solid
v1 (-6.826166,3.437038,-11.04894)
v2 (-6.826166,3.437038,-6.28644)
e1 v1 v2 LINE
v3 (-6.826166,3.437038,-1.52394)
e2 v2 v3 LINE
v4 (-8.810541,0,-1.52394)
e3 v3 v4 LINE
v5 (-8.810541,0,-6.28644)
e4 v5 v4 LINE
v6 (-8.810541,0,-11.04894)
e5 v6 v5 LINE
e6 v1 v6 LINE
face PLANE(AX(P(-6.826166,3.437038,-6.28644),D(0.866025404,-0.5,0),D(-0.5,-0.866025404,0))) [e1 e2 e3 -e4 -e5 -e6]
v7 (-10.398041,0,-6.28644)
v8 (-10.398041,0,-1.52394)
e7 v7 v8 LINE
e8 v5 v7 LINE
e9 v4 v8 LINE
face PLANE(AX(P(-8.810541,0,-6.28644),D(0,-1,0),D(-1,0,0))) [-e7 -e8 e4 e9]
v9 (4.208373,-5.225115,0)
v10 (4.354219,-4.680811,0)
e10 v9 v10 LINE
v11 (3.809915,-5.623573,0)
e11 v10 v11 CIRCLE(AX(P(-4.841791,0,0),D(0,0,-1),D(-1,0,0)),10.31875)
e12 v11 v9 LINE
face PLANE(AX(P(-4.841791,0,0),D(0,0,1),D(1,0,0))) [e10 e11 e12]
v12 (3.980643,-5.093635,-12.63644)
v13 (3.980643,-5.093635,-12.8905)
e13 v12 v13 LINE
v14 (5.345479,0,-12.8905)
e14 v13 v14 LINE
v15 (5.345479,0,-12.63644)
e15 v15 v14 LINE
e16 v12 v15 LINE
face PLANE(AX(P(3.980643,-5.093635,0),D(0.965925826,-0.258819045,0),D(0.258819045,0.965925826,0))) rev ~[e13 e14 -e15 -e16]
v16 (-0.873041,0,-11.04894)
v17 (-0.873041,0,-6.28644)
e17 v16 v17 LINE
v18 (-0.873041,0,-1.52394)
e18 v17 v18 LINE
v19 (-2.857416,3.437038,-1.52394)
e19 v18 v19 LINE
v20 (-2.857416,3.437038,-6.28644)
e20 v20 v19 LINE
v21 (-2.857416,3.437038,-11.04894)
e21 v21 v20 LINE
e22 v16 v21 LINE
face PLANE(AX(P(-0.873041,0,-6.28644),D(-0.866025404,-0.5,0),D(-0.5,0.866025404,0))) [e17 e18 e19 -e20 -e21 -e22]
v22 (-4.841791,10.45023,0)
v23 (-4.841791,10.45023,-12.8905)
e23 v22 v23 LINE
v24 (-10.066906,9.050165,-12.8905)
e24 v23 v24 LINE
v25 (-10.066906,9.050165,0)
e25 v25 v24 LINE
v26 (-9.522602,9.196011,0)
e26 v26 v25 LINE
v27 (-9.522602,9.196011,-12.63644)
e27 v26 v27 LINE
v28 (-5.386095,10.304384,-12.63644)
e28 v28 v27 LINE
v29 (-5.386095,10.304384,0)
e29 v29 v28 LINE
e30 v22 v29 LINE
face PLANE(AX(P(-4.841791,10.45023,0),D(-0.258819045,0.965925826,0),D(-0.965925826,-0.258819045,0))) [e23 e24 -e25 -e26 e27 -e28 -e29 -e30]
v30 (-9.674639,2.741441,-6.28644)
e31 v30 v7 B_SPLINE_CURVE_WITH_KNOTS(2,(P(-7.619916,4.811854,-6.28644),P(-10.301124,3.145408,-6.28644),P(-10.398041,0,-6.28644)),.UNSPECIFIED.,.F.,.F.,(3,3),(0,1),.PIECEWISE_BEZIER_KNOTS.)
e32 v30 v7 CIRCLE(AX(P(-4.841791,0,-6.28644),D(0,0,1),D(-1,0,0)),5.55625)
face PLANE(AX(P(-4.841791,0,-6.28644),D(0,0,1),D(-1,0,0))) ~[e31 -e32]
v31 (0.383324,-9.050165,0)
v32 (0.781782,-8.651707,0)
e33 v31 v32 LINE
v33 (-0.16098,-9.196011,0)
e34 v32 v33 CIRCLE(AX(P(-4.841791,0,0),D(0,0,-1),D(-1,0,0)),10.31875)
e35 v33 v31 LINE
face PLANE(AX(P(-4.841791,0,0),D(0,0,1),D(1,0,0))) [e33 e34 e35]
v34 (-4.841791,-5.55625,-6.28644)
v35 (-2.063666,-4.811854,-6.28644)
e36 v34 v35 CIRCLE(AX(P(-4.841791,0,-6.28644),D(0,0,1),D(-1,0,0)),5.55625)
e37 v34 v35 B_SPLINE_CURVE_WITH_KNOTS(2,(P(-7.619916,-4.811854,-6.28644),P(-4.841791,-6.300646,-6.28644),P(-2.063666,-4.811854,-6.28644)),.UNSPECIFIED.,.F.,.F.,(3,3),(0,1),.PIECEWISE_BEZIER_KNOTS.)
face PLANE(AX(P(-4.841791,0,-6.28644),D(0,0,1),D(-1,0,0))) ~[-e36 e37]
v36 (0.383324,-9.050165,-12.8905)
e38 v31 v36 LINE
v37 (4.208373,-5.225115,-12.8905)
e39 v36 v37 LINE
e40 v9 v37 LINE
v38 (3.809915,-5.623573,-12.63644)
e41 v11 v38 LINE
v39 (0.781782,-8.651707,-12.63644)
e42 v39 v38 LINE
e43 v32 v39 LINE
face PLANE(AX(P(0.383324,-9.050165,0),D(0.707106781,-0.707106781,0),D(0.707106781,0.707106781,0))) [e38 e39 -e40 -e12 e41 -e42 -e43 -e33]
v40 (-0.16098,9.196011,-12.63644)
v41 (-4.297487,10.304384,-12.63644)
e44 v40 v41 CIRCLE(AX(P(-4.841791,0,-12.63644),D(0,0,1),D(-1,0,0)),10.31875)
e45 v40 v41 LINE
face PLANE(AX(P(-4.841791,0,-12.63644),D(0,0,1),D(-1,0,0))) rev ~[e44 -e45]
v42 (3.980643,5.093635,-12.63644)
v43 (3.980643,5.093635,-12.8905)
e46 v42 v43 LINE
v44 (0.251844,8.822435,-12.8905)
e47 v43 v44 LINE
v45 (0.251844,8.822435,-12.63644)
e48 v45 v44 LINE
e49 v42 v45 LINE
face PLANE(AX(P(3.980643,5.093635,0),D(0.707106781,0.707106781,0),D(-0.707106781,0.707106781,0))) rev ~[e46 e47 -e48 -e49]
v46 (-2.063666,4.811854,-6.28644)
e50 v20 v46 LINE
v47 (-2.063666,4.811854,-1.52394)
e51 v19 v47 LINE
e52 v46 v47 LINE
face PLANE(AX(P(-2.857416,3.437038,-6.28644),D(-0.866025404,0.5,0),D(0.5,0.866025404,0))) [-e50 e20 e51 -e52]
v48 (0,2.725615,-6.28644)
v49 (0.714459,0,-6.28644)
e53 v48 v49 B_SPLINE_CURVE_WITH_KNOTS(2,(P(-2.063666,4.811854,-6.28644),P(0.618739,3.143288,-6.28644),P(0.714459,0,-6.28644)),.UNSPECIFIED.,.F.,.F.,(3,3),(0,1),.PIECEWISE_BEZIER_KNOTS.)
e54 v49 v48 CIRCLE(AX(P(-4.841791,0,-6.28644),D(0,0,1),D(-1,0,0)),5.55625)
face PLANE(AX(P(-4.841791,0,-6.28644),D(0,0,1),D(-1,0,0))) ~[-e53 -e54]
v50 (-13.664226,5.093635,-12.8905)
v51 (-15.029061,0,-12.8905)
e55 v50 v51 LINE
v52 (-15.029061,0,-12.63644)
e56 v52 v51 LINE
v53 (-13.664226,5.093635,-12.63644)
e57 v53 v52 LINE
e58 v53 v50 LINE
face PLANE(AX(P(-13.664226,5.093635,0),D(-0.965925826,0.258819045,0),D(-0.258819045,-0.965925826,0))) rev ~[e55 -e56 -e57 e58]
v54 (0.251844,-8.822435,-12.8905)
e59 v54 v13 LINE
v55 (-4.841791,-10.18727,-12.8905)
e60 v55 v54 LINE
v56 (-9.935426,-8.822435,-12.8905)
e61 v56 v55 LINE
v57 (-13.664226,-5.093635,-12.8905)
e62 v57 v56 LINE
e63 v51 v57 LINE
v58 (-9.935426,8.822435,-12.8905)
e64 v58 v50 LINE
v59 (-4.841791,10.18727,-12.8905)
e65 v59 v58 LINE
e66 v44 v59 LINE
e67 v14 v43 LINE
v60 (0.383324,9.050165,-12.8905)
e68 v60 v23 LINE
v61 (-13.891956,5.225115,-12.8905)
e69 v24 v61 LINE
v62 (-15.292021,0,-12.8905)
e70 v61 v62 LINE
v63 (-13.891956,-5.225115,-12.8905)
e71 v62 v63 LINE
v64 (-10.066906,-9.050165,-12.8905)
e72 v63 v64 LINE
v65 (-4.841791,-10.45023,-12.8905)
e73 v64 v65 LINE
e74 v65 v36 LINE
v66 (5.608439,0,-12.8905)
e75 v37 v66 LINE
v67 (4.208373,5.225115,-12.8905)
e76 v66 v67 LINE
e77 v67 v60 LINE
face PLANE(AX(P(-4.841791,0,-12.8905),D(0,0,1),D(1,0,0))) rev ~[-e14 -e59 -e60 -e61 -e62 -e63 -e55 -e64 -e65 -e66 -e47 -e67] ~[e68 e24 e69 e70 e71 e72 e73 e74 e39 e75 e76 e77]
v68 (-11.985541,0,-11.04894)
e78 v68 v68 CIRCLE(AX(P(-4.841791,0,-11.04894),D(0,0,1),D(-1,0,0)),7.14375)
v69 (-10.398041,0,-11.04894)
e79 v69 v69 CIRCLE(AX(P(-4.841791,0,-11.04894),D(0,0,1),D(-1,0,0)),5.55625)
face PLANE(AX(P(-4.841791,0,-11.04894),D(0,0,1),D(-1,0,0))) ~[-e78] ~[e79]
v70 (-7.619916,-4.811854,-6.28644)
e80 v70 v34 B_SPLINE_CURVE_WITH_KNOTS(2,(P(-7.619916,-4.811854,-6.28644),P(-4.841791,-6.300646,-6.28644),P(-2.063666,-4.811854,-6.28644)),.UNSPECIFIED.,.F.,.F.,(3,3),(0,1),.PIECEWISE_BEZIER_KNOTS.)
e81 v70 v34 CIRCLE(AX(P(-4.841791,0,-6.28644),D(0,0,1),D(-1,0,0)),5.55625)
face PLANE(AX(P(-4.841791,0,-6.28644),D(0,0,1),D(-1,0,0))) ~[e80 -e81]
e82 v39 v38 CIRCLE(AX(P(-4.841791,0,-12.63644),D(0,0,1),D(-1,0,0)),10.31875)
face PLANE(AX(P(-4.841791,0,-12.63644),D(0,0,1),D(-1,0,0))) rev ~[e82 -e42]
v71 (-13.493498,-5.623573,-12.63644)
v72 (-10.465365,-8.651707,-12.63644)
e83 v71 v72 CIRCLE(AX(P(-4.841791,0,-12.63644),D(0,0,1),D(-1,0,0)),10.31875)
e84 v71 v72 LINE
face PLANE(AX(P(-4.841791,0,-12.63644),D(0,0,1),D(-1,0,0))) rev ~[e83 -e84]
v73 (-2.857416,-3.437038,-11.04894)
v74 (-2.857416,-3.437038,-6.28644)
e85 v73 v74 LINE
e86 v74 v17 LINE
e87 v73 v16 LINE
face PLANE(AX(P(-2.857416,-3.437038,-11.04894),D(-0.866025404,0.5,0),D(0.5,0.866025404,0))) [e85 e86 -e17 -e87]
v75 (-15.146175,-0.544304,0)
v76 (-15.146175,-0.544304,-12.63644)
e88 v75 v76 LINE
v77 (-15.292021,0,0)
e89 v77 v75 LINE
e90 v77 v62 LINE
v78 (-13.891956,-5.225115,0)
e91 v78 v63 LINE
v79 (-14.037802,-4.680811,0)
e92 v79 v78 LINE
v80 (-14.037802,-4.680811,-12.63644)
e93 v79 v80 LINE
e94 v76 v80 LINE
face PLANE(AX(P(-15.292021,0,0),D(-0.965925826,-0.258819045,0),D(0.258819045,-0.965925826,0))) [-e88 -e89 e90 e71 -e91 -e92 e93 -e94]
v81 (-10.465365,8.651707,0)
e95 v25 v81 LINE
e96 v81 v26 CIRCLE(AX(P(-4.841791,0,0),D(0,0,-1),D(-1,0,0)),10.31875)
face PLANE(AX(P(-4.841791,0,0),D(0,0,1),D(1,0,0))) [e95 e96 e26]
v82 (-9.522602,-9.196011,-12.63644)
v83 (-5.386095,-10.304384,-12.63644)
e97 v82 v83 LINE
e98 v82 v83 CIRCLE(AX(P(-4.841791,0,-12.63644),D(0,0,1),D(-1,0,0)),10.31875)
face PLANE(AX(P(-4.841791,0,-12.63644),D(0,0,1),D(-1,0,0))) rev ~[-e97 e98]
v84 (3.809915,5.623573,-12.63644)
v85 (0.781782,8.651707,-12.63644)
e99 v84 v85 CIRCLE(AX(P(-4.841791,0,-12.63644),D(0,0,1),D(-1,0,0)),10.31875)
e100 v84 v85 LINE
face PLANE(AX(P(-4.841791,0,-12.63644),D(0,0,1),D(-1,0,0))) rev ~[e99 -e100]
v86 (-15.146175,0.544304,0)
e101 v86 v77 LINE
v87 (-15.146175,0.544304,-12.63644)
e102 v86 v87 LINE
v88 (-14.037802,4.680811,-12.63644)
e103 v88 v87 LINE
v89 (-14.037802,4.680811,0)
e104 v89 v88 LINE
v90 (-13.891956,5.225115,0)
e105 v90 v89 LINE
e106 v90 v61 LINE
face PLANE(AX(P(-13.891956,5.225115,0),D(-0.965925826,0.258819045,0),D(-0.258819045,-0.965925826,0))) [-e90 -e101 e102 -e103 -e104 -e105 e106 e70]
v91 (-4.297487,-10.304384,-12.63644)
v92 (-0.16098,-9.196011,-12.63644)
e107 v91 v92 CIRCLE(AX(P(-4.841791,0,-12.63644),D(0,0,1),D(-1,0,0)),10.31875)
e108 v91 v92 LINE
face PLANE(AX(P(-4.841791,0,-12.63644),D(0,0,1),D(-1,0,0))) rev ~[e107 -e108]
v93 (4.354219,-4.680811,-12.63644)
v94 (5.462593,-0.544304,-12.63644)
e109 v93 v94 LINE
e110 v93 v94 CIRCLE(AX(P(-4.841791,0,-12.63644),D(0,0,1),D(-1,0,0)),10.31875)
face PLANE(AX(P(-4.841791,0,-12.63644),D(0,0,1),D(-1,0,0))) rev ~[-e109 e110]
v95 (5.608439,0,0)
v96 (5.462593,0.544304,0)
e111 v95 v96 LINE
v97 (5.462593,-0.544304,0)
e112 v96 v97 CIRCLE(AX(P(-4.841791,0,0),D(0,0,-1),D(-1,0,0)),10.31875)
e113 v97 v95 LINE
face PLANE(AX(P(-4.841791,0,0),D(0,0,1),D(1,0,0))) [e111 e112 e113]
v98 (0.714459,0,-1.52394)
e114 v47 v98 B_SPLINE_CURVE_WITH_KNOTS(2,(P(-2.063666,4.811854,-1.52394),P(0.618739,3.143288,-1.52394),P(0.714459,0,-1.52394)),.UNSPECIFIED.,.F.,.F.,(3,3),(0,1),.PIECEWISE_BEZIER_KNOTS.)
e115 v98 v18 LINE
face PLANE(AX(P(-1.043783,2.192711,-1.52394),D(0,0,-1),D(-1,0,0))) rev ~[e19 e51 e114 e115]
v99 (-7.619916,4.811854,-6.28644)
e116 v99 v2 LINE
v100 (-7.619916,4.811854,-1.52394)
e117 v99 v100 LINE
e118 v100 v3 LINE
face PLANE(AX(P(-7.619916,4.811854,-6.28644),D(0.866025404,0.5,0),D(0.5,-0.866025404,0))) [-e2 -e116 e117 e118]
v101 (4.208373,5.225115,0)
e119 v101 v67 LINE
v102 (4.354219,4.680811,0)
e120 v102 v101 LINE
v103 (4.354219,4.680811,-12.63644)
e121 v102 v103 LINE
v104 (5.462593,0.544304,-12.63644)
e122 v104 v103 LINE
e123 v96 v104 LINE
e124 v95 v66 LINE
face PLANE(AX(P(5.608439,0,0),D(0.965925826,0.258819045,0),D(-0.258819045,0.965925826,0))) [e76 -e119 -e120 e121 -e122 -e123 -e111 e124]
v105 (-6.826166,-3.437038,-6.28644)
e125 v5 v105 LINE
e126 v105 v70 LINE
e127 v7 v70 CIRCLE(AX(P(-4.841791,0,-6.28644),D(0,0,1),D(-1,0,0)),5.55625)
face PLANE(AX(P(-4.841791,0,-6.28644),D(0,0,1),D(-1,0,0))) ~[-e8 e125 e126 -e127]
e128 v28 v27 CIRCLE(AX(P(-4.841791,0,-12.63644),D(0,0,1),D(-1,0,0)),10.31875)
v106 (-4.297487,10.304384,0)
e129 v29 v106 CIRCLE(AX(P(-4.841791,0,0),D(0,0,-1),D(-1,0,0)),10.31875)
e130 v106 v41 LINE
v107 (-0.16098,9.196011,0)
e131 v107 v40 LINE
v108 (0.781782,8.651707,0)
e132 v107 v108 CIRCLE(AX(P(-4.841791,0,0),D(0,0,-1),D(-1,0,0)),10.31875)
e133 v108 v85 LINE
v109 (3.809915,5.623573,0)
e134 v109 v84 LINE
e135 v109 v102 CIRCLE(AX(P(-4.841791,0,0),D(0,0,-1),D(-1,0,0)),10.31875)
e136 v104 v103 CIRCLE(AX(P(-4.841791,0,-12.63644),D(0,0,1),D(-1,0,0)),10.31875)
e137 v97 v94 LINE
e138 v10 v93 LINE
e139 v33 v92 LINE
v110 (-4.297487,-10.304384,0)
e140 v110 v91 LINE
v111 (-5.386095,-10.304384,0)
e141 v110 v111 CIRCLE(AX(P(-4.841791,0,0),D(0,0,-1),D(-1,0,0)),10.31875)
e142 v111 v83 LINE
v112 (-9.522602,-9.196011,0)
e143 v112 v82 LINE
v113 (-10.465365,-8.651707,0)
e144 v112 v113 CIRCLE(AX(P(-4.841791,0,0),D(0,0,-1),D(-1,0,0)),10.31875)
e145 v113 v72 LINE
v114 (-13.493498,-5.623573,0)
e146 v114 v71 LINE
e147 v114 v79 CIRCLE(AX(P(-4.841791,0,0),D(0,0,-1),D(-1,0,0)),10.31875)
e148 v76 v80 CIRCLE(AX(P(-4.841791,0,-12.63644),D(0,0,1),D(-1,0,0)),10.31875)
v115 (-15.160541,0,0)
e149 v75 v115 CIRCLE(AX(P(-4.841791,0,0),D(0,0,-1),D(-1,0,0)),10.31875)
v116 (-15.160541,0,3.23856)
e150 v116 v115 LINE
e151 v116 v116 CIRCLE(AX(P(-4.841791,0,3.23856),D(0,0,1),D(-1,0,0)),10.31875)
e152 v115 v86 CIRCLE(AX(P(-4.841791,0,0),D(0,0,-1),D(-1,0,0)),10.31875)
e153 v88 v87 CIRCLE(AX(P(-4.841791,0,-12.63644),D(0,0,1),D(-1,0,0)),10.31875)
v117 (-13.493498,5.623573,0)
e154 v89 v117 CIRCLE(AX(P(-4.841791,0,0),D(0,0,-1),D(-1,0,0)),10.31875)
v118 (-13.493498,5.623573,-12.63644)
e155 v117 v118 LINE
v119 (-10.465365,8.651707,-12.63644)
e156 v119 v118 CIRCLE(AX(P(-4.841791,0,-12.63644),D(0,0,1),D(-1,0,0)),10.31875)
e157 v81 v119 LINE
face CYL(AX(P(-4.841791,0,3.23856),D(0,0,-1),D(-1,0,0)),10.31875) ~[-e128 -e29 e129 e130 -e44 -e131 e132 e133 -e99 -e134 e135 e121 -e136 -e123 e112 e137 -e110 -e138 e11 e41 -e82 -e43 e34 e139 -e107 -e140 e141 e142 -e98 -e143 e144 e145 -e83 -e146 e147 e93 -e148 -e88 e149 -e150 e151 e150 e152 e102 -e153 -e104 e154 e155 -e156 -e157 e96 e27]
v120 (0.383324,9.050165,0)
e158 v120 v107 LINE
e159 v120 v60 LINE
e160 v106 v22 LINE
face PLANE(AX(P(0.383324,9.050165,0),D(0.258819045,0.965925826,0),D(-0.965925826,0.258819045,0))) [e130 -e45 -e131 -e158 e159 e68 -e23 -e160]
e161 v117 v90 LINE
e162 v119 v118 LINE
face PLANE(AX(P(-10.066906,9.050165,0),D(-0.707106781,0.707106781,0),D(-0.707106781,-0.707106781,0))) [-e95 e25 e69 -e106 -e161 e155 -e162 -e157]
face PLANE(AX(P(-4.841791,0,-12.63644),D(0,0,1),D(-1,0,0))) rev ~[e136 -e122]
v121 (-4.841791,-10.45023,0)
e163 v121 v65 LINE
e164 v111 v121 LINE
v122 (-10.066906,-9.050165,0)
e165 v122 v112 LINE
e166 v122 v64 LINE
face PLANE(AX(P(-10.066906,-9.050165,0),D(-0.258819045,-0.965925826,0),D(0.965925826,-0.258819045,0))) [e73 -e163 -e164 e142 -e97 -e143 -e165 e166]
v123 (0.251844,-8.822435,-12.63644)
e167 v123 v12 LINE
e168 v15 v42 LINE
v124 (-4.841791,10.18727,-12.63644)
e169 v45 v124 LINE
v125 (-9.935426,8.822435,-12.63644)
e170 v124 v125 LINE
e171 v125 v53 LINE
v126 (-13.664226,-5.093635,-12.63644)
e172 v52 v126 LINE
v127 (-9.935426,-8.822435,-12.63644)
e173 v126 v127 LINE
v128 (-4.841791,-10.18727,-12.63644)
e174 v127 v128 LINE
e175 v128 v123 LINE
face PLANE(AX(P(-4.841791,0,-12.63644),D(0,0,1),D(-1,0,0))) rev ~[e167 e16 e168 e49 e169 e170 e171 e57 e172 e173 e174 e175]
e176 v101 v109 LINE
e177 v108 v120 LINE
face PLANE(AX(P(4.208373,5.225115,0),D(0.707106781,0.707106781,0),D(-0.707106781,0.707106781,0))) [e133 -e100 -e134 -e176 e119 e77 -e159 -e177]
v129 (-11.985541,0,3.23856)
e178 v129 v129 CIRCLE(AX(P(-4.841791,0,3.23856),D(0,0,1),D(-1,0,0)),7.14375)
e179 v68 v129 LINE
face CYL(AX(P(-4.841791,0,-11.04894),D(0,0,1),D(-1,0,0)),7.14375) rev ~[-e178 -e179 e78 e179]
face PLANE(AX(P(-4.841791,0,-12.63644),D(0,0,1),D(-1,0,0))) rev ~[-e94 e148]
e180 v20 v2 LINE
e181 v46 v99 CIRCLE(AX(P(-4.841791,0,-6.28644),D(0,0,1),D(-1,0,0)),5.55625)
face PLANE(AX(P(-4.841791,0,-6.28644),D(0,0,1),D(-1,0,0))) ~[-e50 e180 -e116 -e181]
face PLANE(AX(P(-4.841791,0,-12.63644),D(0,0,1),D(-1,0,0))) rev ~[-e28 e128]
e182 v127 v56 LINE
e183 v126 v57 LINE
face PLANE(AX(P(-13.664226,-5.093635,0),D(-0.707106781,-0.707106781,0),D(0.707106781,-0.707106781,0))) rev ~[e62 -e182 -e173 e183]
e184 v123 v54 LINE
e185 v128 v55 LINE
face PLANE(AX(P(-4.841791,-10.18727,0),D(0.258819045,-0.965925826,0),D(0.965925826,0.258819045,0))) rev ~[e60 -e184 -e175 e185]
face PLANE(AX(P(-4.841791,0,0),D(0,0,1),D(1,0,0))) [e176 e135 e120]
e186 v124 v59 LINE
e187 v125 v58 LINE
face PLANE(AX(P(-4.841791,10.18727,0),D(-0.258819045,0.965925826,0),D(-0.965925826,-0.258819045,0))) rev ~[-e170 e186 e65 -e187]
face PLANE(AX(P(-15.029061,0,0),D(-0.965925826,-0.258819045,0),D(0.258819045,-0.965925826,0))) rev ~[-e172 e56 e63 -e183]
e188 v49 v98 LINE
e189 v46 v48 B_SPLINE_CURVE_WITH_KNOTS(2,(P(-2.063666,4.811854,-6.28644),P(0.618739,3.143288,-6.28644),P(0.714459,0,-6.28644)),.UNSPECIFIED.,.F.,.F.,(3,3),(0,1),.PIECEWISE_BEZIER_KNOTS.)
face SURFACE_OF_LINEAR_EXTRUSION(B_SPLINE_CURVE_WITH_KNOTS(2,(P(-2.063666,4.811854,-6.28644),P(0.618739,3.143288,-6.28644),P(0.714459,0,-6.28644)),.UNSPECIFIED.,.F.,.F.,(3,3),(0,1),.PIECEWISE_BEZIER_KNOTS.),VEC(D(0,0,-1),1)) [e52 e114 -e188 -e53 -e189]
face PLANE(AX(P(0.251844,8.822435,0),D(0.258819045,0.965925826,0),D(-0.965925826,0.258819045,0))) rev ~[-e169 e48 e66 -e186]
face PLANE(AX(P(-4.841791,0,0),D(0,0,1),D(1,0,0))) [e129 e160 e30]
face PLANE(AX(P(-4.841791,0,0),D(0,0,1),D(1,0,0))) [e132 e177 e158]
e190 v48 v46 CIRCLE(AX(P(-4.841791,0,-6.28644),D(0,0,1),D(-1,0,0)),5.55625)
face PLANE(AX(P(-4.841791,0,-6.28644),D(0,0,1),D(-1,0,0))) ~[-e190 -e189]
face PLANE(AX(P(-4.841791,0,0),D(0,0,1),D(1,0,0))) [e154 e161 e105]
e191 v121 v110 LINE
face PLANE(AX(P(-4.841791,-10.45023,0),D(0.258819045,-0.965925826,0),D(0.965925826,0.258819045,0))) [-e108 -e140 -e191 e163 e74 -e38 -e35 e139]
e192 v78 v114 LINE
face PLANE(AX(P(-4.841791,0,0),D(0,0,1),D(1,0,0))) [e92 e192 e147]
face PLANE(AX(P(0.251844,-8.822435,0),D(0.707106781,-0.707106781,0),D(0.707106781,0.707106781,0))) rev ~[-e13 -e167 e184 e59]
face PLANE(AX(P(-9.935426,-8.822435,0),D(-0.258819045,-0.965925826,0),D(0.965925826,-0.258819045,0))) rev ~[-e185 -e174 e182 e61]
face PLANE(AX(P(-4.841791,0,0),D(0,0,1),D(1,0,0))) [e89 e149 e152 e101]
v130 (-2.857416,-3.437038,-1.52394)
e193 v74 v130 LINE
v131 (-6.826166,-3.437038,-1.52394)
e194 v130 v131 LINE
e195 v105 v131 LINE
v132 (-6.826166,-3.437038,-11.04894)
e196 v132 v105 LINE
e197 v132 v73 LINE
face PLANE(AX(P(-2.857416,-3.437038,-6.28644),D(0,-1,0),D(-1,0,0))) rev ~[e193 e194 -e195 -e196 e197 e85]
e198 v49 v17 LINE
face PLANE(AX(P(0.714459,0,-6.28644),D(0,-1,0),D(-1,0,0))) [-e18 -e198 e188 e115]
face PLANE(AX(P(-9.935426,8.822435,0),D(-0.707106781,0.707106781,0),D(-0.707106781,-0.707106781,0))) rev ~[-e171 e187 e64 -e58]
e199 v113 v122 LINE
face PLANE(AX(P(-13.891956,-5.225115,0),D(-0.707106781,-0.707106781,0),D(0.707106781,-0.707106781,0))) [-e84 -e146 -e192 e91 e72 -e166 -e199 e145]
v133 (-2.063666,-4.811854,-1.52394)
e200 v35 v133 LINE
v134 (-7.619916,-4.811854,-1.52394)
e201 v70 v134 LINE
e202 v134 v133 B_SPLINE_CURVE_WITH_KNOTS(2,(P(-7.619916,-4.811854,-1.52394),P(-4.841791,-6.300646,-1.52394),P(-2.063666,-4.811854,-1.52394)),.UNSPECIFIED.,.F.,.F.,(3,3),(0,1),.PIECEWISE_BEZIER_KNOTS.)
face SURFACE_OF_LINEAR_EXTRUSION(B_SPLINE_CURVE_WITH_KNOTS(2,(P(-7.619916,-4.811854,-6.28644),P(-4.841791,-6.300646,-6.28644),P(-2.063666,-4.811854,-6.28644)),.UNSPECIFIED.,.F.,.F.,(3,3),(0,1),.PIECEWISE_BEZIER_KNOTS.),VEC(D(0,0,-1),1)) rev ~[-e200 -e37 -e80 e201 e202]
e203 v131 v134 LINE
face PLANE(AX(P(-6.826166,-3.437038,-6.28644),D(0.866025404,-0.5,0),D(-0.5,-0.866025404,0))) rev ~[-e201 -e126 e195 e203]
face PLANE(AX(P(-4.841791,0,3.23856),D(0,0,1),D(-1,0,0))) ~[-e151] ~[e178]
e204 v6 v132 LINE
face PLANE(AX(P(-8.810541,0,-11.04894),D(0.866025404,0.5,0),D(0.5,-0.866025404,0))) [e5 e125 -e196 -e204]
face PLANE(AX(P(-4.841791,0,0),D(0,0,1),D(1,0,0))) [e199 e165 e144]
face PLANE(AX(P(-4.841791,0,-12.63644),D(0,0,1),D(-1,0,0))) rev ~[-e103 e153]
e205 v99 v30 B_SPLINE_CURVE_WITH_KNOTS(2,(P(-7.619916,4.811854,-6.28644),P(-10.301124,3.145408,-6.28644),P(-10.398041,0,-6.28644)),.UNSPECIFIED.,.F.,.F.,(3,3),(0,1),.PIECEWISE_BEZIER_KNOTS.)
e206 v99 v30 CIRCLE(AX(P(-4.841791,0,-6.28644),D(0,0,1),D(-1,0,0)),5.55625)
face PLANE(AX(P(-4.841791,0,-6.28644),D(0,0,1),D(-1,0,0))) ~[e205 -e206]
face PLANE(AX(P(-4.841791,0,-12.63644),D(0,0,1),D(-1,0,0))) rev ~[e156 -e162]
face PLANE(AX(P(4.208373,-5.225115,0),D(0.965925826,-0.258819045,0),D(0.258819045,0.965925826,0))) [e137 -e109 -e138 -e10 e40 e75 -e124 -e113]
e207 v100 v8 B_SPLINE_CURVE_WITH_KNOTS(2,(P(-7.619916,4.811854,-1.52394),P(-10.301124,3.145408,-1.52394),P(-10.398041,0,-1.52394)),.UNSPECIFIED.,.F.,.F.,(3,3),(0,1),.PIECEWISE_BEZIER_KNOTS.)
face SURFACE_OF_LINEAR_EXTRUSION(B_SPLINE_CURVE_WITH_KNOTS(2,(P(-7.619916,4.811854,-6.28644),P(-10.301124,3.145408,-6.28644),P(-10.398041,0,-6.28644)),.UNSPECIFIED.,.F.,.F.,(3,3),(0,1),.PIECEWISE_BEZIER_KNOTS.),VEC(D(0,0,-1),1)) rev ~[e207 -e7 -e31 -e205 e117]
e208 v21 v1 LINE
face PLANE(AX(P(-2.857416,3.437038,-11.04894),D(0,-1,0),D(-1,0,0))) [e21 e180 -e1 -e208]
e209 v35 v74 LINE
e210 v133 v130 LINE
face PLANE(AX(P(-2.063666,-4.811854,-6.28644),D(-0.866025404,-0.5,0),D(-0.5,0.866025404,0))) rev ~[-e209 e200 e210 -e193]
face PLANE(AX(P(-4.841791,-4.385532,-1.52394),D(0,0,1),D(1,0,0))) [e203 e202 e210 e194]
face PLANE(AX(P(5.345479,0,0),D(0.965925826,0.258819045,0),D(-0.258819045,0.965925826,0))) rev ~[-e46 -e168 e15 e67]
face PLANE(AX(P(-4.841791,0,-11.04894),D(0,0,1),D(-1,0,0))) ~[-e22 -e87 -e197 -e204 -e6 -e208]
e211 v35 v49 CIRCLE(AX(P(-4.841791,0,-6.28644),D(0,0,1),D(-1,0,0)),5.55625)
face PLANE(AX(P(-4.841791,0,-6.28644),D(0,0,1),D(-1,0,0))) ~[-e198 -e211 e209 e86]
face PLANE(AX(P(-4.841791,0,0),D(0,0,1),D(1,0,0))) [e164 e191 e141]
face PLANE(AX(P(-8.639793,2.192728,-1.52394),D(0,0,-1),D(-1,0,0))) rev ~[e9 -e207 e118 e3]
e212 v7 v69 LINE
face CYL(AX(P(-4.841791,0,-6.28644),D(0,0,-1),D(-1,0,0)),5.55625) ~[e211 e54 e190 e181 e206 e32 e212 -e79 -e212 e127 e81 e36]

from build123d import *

# Parameters (mm, degrees)
EXTRUDE_THIN1_DEPTH = 4.7625
BOSS_EXTRUDE3_DEPTH = 4.7625
BOSS_EXTRUDE4_DEPTH = 4.7625
BOSS_EXTRUDE5_DEPTH = 4.7625
EXTRUDE_THIN2_DEPTH = 12.8905


with BuildPart() as part:
    # Sketch1 → Revolve1 (revolve)
    with BuildSketch(Plane(origin=(0, 0, 0), x_dir=(1, 0, 0), z_dir=(0, 1, 0)), mode=Mode.PRIVATE) as revolve1_sk:
        Polygon((3.889458747, 12.636440067), (-4.841791253, 12.636440067), (-4.841791253, 11.048940067), (-0.873041253, 11.048940067), (-0.873041253, 6.286440067), (0.714458747, 6.286440067), (0.714458747, 11.048940067), (2.301958747, 11.048940067), (2.301958747, -3.238559933), (5.476958747, -3.238559933), (5.476958747, 12.636440067), align=None)
    revolve(revolve1_sk.sketch.rotate(Axis((-4.841791253, 0, -12.636440067), (0, 0, 1)), 180), axis=Axis((-4.841791253, 0, -12.636440067), (0, 0, 1)))

    # Sketch3 → Extrude-Thin1 (add)
    with BuildSketch(Plane.XY.offset(-11.048940067)):
        Polygon((0.593428431, 0), (-2.124181411, 4.707038321), (-7.559401095, 4.707038321), (-10.277010937, 0), (-7.559401095, -4.707038321), (-2.124181411, -4.707038321), align=None)
        Polygon((-0.873041253, 0), (-2.857416253, 3.437038321), (-6.826166253, 3.437038321), (-8.810541253, 0), (-6.826166253, -3.437038321), (-2.857416253, -3.437038321), align=None, mode=Mode.SUBTRACT)
    extrude(amount=EXTRUDE_THIN1_DEPTH)

    # Sketch4 → Boss-Extrude3 (add)
    with BuildSketch(Plane.XY.offset(-6.286440067)):
        with BuildLine():
            Line((-8.810541253, 0), (-10.398041253, 0))
            add(Edge.make_bspline(
                [(-7.619916253, 4.81185365), (-10.301123719, 3.145408418), (-10.398041253, 0)],
                knots=[0, 0, 0, 1, 1, 1], degree=2))
            Line((-7.619916253, 4.81185365), (-6.826166253, 3.437038321))
            Line((-6.826166253, 3.437038321), (-8.810541253, 0))
        make_face()
    extrude(amount=BOSS_EXTRUDE3_DEPTH)

    # Sketch6 → Boss-Extrude4 (add)
    with BuildSketch(Plane.XY.offset(-6.286440067)):
        with BuildLine():
            Line((-2.857416253, 3.437038321), (-2.063666253, 4.81185365))
            add(Edge.make_bspline(
                [(-2.063666253, 4.81185365), (0.618739425, 3.143288031), (0.714458747, 0)],
                knots=[0, 0, 0, 1, 1, 1], degree=2))
            Line((0.714458747, 0), (-0.873041253, 0))
            Line((-0.873041253, 0), (-2.857416253, 3.437038321))
        make_face()
    extrude(amount=BOSS_EXTRUDE4_DEPTH)

    # Sketch7 → Boss-Extrude5 (add)
    with BuildSketch(Plane.XY.offset(-6.286440067)):
        with BuildLine():
            Line((-6.826166253, -3.437038321), (-7.619916253, -4.81185365))
            add(Edge.make_bspline(
                [(-7.619916253, -4.81185365), (-4.841791253, -6.30064635), (-2.063666253, -4.81185365)],
                knots=[0, 0, 0, 1, 1, 1], degree=2))
            Line((-2.063666253, -4.81185365), (-2.857416253, -3.437038321))
            Line((-2.857416253, -3.437038321), (-6.826166253, -3.437038321))
        make_face()
    extrude(amount=BOSS_EXTRUDE5_DEPTH)

    # Sketch11 → Extrude-Thin2 (add)
    with BuildSketch(Plane.XY):
        Polygon((-15.292021328, 0), (-13.891955973, -5.225115037), (-10.066906291, -9.05016472), (-4.841791253, -10.450230075), (0.383323784, -9.05016472), (4.208373467, -5.225115037), (5.608438822, 0), (4.208373467, 5.225115037), (0.383323784, 9.05016472), (-4.841791253, 10.450230075), (-10.066906291, 9.05016472), (-13.891955973, 5.225115037), align=None)
        Polygon((-15.029061178, 0), (-13.664225803, -5.093634963), (-9.935426216, -8.82243455), (-4.841791253, -10.187269925), (0.251843709, -8.82243455), (3.980643297, -5.093634963), (5.345478672, 0), (3.980643297, 5.093634963), (0.251843709, 8.82243455), (-4.841791253, 10.187269925), (-9.935426216, 8.82243455), (-13.664225803, 5.093634963), align=None, mode=Mode.SUBTRACT)
    extrude(amount=-EXTRUDE_THIN2_DEPTH)


solid = part.part
